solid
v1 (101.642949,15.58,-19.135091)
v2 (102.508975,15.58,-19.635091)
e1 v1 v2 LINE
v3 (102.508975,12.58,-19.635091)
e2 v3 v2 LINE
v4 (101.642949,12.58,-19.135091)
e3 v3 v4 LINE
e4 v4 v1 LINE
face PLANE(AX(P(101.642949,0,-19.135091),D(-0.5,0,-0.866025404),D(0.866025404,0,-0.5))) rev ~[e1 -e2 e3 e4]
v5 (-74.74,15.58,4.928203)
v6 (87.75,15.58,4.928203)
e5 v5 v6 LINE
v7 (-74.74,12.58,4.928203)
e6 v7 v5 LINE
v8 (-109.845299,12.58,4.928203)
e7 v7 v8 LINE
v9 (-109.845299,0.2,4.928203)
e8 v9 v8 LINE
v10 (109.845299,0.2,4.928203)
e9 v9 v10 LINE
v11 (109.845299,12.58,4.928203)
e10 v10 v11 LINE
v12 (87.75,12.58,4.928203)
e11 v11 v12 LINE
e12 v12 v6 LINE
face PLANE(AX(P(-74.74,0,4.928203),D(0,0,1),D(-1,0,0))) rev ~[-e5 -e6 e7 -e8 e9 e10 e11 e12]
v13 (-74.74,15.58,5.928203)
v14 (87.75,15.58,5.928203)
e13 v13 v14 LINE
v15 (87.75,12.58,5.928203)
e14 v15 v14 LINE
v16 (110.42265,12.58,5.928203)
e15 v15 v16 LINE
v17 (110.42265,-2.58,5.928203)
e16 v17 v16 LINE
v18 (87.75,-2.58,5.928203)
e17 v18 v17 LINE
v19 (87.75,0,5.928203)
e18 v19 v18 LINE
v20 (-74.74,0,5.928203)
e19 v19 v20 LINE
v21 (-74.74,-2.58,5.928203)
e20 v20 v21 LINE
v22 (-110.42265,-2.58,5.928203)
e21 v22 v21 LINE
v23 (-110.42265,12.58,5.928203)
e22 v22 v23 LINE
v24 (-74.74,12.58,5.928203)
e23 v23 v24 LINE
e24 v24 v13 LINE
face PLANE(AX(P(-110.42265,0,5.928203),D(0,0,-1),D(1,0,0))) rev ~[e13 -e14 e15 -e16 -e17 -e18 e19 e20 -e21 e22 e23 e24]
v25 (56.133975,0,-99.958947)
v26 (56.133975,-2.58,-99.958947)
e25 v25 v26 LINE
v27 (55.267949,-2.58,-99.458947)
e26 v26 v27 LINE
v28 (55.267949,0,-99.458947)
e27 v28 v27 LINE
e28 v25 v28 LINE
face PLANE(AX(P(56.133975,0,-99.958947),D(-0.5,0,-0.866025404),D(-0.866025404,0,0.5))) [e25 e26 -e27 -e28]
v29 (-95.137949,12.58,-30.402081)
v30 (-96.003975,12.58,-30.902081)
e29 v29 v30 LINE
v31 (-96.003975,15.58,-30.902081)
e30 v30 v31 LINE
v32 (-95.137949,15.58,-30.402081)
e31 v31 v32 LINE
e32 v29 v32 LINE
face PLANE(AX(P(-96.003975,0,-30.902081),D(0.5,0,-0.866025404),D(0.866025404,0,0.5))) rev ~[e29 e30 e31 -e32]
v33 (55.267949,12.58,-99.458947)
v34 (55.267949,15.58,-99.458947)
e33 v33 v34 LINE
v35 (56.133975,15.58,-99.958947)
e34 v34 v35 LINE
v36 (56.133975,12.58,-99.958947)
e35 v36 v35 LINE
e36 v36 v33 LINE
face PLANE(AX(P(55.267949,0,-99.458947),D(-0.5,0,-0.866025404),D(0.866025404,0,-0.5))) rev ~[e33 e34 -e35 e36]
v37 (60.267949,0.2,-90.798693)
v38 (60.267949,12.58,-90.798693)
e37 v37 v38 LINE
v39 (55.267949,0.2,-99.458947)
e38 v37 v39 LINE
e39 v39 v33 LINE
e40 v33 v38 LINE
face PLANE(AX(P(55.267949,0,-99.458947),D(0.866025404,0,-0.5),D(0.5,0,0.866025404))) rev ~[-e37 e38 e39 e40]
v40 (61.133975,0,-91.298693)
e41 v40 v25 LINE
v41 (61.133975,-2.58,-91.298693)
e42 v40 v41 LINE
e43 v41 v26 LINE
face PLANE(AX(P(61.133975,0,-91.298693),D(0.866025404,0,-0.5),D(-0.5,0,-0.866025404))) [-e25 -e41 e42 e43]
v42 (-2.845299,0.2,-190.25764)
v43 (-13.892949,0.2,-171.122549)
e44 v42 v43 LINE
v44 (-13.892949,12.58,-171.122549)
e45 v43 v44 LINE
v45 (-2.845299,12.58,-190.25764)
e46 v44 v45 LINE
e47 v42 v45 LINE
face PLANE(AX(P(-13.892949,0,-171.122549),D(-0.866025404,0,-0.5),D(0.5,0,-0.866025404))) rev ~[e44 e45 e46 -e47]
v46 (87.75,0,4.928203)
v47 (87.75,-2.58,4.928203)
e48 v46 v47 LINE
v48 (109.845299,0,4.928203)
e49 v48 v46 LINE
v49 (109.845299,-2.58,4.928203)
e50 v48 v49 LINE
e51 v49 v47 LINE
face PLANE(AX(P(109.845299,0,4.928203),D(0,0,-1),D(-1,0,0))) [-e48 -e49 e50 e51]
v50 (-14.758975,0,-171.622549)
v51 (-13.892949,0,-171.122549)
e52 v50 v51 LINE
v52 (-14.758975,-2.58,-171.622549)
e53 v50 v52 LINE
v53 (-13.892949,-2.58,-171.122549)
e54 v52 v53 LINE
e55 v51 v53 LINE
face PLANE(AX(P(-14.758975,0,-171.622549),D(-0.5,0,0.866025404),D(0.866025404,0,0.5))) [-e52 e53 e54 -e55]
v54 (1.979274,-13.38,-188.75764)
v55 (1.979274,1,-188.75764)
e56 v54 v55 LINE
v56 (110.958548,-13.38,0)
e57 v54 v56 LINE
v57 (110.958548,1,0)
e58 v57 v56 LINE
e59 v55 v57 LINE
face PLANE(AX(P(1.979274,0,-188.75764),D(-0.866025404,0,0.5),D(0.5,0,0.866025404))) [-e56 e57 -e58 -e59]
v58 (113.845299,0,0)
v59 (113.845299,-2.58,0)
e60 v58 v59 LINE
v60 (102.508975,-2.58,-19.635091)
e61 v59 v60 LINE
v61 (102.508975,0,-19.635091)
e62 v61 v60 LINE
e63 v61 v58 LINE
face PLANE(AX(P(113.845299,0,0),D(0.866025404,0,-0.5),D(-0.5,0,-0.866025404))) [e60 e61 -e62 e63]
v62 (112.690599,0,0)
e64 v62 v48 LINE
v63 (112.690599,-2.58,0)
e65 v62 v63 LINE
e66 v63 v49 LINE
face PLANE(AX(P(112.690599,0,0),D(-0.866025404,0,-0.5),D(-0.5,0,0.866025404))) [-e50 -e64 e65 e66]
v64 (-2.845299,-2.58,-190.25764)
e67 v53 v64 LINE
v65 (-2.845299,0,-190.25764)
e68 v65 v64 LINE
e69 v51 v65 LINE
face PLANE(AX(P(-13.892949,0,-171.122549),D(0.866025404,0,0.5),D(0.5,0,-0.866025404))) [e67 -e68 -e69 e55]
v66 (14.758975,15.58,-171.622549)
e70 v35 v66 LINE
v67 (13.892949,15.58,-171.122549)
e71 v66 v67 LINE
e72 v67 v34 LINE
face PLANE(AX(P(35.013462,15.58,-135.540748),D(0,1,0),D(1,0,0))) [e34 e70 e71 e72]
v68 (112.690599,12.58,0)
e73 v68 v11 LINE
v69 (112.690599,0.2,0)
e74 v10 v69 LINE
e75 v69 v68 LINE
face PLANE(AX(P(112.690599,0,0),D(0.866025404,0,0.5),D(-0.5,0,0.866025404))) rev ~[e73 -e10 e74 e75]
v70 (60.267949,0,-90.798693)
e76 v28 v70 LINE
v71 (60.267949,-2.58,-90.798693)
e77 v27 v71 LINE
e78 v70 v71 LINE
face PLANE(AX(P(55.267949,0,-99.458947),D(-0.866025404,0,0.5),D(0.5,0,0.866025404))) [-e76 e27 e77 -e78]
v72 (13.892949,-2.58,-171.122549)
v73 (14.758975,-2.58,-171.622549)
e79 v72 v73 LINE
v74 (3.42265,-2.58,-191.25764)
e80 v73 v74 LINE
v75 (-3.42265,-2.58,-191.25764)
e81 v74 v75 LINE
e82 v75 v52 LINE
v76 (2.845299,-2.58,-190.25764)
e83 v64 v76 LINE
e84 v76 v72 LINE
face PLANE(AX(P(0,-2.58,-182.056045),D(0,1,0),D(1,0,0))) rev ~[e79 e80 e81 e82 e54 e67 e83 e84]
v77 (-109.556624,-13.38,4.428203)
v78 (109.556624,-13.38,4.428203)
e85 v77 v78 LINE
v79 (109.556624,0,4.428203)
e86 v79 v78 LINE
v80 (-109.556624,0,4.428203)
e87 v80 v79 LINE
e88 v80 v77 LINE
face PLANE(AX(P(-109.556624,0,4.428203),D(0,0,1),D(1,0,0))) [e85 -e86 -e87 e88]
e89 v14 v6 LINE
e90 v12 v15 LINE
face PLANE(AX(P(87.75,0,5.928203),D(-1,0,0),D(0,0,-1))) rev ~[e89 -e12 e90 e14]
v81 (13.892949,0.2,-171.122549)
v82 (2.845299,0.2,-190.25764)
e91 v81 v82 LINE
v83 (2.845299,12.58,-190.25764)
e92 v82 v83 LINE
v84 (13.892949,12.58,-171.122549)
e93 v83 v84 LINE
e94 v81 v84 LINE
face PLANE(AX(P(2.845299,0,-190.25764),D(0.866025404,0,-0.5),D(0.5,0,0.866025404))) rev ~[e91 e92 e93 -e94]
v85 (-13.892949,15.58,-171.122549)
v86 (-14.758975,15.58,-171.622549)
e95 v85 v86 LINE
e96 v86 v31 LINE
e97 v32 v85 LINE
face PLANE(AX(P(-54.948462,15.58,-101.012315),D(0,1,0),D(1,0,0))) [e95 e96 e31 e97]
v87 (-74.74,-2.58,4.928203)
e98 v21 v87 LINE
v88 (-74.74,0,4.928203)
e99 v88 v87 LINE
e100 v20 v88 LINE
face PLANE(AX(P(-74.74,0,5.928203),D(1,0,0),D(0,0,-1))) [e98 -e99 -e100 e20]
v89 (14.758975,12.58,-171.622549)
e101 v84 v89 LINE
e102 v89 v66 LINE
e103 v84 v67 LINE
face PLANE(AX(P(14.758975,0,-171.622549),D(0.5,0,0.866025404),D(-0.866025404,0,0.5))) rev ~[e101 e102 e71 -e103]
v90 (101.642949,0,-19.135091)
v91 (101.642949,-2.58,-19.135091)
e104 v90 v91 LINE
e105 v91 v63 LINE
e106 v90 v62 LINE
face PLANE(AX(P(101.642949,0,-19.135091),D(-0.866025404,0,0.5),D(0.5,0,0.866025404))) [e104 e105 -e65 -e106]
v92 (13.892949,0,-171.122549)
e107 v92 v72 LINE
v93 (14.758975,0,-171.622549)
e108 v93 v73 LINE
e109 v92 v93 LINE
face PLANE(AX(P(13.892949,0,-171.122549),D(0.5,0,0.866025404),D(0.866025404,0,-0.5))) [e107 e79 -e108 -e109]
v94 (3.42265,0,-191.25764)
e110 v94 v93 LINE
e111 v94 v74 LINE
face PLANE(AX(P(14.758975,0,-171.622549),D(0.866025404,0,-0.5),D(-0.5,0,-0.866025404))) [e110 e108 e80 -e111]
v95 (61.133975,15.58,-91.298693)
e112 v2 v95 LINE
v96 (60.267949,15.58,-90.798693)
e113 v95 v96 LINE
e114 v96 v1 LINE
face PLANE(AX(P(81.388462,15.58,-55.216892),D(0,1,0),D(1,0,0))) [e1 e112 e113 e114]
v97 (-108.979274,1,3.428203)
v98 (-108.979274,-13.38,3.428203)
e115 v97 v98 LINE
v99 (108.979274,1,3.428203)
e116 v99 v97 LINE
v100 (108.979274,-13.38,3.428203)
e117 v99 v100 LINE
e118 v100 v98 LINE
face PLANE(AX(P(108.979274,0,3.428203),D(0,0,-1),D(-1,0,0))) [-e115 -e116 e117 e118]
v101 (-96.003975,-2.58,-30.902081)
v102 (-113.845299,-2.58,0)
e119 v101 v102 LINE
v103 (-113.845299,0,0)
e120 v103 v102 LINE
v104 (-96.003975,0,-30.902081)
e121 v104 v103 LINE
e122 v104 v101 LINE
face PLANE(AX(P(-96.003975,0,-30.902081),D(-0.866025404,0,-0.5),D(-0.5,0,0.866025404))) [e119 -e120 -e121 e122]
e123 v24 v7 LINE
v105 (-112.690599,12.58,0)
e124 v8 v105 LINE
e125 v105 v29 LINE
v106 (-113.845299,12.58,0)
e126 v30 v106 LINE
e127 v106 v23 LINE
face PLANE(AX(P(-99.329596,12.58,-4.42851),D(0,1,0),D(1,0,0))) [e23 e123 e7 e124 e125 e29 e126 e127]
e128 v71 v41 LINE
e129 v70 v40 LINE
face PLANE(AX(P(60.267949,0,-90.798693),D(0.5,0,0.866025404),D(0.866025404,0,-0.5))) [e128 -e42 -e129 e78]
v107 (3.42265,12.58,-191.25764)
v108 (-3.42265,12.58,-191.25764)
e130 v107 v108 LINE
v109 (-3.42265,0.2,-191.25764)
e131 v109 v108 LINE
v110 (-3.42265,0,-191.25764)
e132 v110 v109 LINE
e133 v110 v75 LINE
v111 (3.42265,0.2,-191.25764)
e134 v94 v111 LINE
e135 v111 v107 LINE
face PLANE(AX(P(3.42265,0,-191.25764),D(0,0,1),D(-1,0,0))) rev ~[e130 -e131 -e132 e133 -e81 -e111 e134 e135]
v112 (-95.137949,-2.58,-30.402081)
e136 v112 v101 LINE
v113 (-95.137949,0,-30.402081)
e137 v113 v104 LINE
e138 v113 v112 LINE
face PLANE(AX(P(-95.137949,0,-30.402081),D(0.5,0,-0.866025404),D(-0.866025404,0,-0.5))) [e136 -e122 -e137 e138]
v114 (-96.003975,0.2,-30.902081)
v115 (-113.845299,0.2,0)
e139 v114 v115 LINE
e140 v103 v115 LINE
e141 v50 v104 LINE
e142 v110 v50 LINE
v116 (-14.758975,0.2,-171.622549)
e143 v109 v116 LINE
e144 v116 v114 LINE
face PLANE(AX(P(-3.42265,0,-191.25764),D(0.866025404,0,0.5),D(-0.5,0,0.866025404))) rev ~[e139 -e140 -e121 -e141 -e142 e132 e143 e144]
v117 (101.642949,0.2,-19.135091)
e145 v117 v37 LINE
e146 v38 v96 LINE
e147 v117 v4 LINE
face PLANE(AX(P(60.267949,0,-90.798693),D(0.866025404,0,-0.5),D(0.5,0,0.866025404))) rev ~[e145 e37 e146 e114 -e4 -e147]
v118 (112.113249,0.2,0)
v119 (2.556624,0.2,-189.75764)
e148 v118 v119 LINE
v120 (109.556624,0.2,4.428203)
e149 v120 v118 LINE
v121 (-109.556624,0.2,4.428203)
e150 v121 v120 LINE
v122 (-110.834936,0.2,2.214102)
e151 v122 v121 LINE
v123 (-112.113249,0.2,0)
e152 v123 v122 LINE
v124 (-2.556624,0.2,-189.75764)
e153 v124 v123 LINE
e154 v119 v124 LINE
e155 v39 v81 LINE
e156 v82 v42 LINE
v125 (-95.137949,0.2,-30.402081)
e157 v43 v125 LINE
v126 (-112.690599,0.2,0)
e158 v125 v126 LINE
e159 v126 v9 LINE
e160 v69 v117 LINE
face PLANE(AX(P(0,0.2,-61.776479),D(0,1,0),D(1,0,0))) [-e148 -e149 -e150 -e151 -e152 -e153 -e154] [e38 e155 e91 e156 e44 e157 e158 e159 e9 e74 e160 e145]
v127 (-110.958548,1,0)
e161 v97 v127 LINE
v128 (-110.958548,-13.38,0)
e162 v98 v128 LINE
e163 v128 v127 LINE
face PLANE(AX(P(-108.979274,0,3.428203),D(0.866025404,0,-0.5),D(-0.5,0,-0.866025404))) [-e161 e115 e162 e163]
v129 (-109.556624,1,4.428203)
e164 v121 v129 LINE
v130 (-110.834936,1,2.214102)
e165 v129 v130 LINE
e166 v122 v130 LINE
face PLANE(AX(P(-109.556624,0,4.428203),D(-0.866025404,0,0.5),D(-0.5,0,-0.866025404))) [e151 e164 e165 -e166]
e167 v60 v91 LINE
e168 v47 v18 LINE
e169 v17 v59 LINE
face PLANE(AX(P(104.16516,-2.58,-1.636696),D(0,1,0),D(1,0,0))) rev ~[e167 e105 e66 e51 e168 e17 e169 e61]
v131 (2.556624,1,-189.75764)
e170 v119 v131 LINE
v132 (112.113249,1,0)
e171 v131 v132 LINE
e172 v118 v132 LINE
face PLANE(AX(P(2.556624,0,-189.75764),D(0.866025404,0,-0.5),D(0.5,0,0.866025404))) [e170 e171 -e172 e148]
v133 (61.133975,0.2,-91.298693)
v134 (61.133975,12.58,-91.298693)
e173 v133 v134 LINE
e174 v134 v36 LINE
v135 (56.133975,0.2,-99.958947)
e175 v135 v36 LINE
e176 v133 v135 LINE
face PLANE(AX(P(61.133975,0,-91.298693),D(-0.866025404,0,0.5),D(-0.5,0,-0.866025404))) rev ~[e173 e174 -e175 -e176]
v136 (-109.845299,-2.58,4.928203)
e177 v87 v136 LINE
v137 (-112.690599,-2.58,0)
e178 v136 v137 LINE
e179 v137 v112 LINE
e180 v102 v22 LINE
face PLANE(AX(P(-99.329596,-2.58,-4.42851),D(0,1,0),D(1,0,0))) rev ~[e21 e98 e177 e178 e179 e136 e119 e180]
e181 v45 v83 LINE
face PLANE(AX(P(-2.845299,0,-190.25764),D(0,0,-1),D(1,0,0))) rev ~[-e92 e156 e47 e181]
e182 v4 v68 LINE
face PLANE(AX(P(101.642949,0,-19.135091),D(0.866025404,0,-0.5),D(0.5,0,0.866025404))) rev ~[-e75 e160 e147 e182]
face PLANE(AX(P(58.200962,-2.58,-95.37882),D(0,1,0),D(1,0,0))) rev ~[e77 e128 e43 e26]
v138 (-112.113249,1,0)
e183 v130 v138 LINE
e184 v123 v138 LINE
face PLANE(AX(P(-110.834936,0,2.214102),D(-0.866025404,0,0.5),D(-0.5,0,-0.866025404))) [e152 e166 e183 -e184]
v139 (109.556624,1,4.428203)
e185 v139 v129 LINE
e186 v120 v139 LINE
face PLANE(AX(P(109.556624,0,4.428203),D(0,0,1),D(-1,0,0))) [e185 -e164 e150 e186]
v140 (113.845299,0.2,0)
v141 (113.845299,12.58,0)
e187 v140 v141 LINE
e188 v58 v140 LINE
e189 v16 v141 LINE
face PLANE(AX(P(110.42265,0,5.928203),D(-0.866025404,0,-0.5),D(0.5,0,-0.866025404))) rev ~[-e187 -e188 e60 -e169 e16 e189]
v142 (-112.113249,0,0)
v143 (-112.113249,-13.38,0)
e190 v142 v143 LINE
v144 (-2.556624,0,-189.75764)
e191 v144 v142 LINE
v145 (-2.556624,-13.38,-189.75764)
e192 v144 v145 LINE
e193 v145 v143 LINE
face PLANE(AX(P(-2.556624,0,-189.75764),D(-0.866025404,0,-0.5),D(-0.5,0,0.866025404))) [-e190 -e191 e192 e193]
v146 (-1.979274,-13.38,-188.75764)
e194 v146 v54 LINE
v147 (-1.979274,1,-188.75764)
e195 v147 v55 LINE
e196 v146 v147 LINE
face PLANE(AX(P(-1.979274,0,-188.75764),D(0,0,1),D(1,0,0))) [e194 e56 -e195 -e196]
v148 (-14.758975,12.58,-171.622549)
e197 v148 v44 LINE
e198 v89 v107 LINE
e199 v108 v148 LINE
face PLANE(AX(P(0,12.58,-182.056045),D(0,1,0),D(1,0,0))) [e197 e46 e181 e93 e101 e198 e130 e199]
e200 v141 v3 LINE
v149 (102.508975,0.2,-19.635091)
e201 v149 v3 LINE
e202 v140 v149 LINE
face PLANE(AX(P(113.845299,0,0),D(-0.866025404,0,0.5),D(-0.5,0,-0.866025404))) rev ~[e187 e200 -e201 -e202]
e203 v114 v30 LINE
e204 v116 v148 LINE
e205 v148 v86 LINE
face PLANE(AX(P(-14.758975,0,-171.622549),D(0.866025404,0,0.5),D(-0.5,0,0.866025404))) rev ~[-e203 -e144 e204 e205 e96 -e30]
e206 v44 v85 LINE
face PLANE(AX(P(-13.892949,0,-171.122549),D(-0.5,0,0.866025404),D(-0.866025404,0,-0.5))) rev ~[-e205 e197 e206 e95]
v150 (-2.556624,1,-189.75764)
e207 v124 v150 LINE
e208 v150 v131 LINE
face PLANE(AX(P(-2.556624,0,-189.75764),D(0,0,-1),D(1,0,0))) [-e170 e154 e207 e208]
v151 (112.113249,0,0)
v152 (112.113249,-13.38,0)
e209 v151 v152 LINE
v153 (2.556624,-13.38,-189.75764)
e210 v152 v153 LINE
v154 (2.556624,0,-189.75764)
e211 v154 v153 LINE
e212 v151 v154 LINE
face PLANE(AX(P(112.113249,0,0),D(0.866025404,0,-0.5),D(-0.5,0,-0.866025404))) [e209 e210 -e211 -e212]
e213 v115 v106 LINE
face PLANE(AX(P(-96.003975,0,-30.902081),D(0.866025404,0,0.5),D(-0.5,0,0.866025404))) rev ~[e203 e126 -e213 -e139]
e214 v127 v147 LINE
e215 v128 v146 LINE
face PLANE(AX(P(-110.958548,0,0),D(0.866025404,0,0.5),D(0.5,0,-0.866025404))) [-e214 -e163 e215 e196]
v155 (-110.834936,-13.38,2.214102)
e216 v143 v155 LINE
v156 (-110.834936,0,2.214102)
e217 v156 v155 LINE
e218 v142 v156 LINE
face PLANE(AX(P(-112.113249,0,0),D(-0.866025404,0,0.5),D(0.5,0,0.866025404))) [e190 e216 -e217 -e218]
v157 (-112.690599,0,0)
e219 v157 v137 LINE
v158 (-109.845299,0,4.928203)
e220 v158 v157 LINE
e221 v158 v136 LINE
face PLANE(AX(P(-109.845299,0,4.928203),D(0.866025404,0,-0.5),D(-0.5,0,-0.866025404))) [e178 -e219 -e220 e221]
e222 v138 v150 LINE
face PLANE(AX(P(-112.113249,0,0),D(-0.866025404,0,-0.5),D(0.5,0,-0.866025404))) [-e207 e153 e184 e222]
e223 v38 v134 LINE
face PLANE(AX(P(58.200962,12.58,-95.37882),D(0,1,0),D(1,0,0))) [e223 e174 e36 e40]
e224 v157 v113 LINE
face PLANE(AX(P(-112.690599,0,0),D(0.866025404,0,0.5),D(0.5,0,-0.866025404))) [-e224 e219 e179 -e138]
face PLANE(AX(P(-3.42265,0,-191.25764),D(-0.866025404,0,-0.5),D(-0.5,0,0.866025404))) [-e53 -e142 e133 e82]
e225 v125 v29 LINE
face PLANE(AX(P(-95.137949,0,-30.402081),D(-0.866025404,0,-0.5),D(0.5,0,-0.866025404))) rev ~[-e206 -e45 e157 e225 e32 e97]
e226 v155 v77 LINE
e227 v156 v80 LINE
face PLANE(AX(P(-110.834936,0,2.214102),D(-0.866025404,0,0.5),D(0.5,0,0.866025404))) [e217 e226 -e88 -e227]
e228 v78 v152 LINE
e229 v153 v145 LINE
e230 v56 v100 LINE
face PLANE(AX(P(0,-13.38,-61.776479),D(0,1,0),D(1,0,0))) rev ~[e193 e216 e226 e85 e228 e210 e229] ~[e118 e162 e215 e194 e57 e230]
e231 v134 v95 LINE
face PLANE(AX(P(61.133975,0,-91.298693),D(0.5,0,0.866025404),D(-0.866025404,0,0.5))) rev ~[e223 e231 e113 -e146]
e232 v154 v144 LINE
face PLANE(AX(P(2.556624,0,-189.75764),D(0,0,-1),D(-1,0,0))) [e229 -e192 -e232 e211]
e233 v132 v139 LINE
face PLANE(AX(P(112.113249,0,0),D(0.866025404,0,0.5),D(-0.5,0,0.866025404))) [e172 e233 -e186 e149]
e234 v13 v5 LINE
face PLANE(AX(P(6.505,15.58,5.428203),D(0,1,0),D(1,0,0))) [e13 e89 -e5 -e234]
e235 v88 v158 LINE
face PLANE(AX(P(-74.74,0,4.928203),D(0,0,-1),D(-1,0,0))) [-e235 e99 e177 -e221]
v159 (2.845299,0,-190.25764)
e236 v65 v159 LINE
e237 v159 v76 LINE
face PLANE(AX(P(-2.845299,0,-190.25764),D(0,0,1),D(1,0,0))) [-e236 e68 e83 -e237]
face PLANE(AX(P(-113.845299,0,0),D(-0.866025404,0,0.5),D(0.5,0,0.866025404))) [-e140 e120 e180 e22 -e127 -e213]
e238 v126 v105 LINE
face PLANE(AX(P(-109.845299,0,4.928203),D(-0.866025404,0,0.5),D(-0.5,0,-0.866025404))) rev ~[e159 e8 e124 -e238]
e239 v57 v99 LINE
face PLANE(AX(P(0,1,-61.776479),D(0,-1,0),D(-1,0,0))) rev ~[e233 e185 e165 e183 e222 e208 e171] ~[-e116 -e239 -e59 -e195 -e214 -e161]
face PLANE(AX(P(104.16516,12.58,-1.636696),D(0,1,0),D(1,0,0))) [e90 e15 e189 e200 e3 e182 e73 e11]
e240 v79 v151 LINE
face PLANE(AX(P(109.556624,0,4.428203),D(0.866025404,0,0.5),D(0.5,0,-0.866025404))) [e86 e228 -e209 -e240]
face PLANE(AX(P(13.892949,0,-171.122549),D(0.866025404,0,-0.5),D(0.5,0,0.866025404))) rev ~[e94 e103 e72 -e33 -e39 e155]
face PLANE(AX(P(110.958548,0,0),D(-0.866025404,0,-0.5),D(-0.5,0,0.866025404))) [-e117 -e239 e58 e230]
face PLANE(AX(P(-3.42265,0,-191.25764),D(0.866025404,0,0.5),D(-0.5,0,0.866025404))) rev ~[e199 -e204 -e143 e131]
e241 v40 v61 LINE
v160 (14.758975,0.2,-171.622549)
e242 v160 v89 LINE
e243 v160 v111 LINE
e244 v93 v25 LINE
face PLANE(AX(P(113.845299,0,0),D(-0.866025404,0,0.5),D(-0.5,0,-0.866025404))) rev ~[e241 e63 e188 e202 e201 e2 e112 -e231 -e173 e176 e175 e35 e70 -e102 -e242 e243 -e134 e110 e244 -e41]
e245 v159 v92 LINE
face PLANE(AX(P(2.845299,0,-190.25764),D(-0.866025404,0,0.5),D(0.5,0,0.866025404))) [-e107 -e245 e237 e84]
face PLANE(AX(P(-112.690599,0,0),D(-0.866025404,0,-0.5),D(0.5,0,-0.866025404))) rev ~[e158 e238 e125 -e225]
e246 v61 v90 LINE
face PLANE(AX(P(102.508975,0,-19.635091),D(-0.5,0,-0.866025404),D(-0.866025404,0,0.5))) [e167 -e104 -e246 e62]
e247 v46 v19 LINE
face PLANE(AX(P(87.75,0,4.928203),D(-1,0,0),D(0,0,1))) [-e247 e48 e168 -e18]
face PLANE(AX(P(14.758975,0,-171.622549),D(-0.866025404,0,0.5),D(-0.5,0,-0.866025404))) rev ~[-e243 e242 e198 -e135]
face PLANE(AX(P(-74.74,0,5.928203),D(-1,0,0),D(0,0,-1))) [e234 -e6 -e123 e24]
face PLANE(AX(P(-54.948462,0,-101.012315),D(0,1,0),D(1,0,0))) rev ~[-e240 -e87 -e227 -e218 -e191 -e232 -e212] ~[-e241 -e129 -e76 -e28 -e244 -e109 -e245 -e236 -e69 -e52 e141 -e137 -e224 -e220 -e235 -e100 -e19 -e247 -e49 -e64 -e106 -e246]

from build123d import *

# Parameters (mm, degrees)
BOSS_EXTRUDE1_DEPTH = 0.2
BOSS_EXTRUDE2_DEPTH = 12.58
SKETCH1_8_W         = 162.49
SKETCH1_8_H         = 1
BOSS_EXTRUDE3_DEPTH = 15.58
BOSS_EXTRUDE4_DEPTH = 13.38
BOSS_EXTRUDE5_DEPTH = 2.58
BOSS_EXTRUDE6_DEPTH = 1


with BuildPart() as part:
    # Sketch1 → Boss-Extrude1 (new body)
    with BuildSketch(Plane(origin=(0, 0, 0), x_dir=(1, 0, 0), z_dir=(0, 1, 0))):
        Polygon((-113.845299462, 0), (-110.422649731, -5.92820323), (110.422649731, -5.92820323), (113.845299462, 0), (3.422649731, 191.25763964), (-3.422649731, 191.25763964), align=None)
        Polygon((-1.979274058, 188.75763964), (1.979274058, 188.75763964), (110.958548116, 0), (108.979274058, -3.42820323), (-108.979274058, -3.42820323), (-110.958548116, 0), align=None, mode=Mode.SUBTRACT)
    extrude(amount=BOSS_EXTRUDE1_DEPTH)

    # Sketch1<7> → Boss-Extrude2 (add)
    with BuildSketch(Plane(origin=(0, 0, 0), x_dir=(1, 0, 0), z_dir=(0, 1, 0))):
        Polygon((-95.137949192, 30.402081141), (-96.003974596, 30.902081141), (-113.845299462, 0), (-110.422649731, -5.92820323), (-74.74, -5.92820323), (-74.74, -4.92820323), (-109.845299462, -4.92820323), (-112.690598923, 0), align=None)
        Polygon((-3.422649731, 191.25763964), (-14.758974596, 171.622549002), (-13.892949192, 171.122549002), (-2.845299462, 190.25763964), (2.845299462, 190.25763964), (13.892949192, 171.122549002), (14.758974596, 171.622549002), (3.422649731, 191.25763964), align=None)
        Polygon((109.845299462, -4.92820323), (87.75, -4.92820323), (87.75, -5.92820323), (110.422649731, -5.92820323), (113.845299462, 0), (102.508974596, 19.635090638), (101.642949192, 19.135090638), (112.690598923, 0), align=None)
        Polygon((61.133974596, 91.298692801), (56.133974596, 99.958946839), (55.267949192, 99.458946839), (60.267949192, 90.798692801), align=None)
    extrude(amount=BOSS_EXTRUDE2_DEPTH)

    # Sketch1<8> → Boss-Extrude3 (add)
    with BuildSketch(Plane(origin=(0, 0, 0), x_dir=(1, 0, 0), z_dir=(0, 1, 0))):
        Polygon((-14.758974596, 171.622549002), (-96.003974596, 30.902081141), (-95.137949192, 30.402081141), (-13.892949192, 171.122549002), align=None)
        with Locations((6.505, -5.42820323)):
            Rectangle(SKETCH1_8_W, SKETCH1_8_H)
        Polygon((56.133974596, 99.958946839), (14.758974596, 171.622549002), (13.892949192, 171.122549002), (55.267949192, 99.458946839), align=None)
        Polygon((102.508974596, 19.635090638), (61.133974596, 91.298692801), (60.267949192, 90.798692801), (101.642949192, 19.135090638), align=None)
    extrude(amount=BOSS_EXTRUDE3_DEPTH)

    # Sketch1<9> → Boss-Extrude4 (add)
    with BuildSketch(Plane(origin=(0, 0, 0), x_dir=(1, 0, 0), z_dir=(0, 1, 0))):
        Polygon((-112.113248654, 0), (-110.834936491, -2.214101615), (-109.556624327, -4.42820323), (109.556624327, -4.42820323), (112.113248654, 0), (2.556624327, 189.75763964), (-2.556624327, 189.75763964), align=None)
        Polygon((-110.958548116, 0), (-56.468911087, 94.37881982), (-1.979274058, 188.75763964), (1.979274058, 188.75763964), (110.958548116, 0), (108.979274058, -3.42820323), (-108.979274058, -3.42820323), align=None, mode=Mode.SUBTRACT)
    extrude(amount=-BOSS_EXTRUDE4_DEPTH)

    # Sketch1<10> → Boss-Extrude5 (add)
    with BuildSketch(Plane(origin=(0, 0, 0), x_dir=(1, 0, 0), z_dir=(0, 1, 0))):
        Polygon((-95.137949192, 30.402081141), (-96.003974596, 30.902081141), (-113.845299462, 0), (-110.422649731, -5.92820323), (-74.74, -5.92820323), (-74.74, -4.92820323), (-109.845299462, -4.92820323), (-112.690598923, 0), align=None)
        Polygon((-3.422649731, 191.25763964), (-14.758974596, 171.622549002), (-13.892949192, 171.122549002), (-2.845299462, 190.25763964), (2.845299462, 190.25763964), (13.892949192, 171.122549002), (14.758974596, 171.622549002), (3.422649731, 191.25763964), align=None)
        Polygon((109.845299462, -4.92820323), (87.75, -4.92820323), (87.75, -5.92820323), (110.422649731, -5.92820323), (113.845299462, 0), (102.508974596, 19.635090638), (101.642949192, 19.135090638), (112.690598923, 0), align=None)
        Polygon((61.133974596, 91.298692801), (56.133974596, 99.958946839), (55.267949192, 99.458946839), (60.267949192, 90.798692801), align=None)
    extrude(amount=-BOSS_EXTRUDE5_DEPTH)

    # Sketch1<11> → Boss-Extrude6 (add)
    with BuildSketch(Plane(origin=(0, 0, 0), x_dir=(1, 0, 0), z_dir=(0, 1, 0))):
        Polygon((-112.113248654, 0), (-110.834936491, -2.214101615), (-109.556624327, -4.42820323), (109.556624327, -4.42820323), (112.113248654, 0), (2.556624327, 189.75763964), (-2.556624327, 189.75763964), align=None)
        Polygon((-110.958548116, 0), (-56.468911087, 94.37881982), (-1.979274058, 188.75763964), (1.979274058, 188.75763964), (110.958548116, 0), (108.979274058, -3.42820323), (-108.979274058, -3.42820323), align=None, mode=Mode.SUBTRACT)
    extrude(amount=BOSS_EXTRUDE6_DEPTH)


solid = part.part
